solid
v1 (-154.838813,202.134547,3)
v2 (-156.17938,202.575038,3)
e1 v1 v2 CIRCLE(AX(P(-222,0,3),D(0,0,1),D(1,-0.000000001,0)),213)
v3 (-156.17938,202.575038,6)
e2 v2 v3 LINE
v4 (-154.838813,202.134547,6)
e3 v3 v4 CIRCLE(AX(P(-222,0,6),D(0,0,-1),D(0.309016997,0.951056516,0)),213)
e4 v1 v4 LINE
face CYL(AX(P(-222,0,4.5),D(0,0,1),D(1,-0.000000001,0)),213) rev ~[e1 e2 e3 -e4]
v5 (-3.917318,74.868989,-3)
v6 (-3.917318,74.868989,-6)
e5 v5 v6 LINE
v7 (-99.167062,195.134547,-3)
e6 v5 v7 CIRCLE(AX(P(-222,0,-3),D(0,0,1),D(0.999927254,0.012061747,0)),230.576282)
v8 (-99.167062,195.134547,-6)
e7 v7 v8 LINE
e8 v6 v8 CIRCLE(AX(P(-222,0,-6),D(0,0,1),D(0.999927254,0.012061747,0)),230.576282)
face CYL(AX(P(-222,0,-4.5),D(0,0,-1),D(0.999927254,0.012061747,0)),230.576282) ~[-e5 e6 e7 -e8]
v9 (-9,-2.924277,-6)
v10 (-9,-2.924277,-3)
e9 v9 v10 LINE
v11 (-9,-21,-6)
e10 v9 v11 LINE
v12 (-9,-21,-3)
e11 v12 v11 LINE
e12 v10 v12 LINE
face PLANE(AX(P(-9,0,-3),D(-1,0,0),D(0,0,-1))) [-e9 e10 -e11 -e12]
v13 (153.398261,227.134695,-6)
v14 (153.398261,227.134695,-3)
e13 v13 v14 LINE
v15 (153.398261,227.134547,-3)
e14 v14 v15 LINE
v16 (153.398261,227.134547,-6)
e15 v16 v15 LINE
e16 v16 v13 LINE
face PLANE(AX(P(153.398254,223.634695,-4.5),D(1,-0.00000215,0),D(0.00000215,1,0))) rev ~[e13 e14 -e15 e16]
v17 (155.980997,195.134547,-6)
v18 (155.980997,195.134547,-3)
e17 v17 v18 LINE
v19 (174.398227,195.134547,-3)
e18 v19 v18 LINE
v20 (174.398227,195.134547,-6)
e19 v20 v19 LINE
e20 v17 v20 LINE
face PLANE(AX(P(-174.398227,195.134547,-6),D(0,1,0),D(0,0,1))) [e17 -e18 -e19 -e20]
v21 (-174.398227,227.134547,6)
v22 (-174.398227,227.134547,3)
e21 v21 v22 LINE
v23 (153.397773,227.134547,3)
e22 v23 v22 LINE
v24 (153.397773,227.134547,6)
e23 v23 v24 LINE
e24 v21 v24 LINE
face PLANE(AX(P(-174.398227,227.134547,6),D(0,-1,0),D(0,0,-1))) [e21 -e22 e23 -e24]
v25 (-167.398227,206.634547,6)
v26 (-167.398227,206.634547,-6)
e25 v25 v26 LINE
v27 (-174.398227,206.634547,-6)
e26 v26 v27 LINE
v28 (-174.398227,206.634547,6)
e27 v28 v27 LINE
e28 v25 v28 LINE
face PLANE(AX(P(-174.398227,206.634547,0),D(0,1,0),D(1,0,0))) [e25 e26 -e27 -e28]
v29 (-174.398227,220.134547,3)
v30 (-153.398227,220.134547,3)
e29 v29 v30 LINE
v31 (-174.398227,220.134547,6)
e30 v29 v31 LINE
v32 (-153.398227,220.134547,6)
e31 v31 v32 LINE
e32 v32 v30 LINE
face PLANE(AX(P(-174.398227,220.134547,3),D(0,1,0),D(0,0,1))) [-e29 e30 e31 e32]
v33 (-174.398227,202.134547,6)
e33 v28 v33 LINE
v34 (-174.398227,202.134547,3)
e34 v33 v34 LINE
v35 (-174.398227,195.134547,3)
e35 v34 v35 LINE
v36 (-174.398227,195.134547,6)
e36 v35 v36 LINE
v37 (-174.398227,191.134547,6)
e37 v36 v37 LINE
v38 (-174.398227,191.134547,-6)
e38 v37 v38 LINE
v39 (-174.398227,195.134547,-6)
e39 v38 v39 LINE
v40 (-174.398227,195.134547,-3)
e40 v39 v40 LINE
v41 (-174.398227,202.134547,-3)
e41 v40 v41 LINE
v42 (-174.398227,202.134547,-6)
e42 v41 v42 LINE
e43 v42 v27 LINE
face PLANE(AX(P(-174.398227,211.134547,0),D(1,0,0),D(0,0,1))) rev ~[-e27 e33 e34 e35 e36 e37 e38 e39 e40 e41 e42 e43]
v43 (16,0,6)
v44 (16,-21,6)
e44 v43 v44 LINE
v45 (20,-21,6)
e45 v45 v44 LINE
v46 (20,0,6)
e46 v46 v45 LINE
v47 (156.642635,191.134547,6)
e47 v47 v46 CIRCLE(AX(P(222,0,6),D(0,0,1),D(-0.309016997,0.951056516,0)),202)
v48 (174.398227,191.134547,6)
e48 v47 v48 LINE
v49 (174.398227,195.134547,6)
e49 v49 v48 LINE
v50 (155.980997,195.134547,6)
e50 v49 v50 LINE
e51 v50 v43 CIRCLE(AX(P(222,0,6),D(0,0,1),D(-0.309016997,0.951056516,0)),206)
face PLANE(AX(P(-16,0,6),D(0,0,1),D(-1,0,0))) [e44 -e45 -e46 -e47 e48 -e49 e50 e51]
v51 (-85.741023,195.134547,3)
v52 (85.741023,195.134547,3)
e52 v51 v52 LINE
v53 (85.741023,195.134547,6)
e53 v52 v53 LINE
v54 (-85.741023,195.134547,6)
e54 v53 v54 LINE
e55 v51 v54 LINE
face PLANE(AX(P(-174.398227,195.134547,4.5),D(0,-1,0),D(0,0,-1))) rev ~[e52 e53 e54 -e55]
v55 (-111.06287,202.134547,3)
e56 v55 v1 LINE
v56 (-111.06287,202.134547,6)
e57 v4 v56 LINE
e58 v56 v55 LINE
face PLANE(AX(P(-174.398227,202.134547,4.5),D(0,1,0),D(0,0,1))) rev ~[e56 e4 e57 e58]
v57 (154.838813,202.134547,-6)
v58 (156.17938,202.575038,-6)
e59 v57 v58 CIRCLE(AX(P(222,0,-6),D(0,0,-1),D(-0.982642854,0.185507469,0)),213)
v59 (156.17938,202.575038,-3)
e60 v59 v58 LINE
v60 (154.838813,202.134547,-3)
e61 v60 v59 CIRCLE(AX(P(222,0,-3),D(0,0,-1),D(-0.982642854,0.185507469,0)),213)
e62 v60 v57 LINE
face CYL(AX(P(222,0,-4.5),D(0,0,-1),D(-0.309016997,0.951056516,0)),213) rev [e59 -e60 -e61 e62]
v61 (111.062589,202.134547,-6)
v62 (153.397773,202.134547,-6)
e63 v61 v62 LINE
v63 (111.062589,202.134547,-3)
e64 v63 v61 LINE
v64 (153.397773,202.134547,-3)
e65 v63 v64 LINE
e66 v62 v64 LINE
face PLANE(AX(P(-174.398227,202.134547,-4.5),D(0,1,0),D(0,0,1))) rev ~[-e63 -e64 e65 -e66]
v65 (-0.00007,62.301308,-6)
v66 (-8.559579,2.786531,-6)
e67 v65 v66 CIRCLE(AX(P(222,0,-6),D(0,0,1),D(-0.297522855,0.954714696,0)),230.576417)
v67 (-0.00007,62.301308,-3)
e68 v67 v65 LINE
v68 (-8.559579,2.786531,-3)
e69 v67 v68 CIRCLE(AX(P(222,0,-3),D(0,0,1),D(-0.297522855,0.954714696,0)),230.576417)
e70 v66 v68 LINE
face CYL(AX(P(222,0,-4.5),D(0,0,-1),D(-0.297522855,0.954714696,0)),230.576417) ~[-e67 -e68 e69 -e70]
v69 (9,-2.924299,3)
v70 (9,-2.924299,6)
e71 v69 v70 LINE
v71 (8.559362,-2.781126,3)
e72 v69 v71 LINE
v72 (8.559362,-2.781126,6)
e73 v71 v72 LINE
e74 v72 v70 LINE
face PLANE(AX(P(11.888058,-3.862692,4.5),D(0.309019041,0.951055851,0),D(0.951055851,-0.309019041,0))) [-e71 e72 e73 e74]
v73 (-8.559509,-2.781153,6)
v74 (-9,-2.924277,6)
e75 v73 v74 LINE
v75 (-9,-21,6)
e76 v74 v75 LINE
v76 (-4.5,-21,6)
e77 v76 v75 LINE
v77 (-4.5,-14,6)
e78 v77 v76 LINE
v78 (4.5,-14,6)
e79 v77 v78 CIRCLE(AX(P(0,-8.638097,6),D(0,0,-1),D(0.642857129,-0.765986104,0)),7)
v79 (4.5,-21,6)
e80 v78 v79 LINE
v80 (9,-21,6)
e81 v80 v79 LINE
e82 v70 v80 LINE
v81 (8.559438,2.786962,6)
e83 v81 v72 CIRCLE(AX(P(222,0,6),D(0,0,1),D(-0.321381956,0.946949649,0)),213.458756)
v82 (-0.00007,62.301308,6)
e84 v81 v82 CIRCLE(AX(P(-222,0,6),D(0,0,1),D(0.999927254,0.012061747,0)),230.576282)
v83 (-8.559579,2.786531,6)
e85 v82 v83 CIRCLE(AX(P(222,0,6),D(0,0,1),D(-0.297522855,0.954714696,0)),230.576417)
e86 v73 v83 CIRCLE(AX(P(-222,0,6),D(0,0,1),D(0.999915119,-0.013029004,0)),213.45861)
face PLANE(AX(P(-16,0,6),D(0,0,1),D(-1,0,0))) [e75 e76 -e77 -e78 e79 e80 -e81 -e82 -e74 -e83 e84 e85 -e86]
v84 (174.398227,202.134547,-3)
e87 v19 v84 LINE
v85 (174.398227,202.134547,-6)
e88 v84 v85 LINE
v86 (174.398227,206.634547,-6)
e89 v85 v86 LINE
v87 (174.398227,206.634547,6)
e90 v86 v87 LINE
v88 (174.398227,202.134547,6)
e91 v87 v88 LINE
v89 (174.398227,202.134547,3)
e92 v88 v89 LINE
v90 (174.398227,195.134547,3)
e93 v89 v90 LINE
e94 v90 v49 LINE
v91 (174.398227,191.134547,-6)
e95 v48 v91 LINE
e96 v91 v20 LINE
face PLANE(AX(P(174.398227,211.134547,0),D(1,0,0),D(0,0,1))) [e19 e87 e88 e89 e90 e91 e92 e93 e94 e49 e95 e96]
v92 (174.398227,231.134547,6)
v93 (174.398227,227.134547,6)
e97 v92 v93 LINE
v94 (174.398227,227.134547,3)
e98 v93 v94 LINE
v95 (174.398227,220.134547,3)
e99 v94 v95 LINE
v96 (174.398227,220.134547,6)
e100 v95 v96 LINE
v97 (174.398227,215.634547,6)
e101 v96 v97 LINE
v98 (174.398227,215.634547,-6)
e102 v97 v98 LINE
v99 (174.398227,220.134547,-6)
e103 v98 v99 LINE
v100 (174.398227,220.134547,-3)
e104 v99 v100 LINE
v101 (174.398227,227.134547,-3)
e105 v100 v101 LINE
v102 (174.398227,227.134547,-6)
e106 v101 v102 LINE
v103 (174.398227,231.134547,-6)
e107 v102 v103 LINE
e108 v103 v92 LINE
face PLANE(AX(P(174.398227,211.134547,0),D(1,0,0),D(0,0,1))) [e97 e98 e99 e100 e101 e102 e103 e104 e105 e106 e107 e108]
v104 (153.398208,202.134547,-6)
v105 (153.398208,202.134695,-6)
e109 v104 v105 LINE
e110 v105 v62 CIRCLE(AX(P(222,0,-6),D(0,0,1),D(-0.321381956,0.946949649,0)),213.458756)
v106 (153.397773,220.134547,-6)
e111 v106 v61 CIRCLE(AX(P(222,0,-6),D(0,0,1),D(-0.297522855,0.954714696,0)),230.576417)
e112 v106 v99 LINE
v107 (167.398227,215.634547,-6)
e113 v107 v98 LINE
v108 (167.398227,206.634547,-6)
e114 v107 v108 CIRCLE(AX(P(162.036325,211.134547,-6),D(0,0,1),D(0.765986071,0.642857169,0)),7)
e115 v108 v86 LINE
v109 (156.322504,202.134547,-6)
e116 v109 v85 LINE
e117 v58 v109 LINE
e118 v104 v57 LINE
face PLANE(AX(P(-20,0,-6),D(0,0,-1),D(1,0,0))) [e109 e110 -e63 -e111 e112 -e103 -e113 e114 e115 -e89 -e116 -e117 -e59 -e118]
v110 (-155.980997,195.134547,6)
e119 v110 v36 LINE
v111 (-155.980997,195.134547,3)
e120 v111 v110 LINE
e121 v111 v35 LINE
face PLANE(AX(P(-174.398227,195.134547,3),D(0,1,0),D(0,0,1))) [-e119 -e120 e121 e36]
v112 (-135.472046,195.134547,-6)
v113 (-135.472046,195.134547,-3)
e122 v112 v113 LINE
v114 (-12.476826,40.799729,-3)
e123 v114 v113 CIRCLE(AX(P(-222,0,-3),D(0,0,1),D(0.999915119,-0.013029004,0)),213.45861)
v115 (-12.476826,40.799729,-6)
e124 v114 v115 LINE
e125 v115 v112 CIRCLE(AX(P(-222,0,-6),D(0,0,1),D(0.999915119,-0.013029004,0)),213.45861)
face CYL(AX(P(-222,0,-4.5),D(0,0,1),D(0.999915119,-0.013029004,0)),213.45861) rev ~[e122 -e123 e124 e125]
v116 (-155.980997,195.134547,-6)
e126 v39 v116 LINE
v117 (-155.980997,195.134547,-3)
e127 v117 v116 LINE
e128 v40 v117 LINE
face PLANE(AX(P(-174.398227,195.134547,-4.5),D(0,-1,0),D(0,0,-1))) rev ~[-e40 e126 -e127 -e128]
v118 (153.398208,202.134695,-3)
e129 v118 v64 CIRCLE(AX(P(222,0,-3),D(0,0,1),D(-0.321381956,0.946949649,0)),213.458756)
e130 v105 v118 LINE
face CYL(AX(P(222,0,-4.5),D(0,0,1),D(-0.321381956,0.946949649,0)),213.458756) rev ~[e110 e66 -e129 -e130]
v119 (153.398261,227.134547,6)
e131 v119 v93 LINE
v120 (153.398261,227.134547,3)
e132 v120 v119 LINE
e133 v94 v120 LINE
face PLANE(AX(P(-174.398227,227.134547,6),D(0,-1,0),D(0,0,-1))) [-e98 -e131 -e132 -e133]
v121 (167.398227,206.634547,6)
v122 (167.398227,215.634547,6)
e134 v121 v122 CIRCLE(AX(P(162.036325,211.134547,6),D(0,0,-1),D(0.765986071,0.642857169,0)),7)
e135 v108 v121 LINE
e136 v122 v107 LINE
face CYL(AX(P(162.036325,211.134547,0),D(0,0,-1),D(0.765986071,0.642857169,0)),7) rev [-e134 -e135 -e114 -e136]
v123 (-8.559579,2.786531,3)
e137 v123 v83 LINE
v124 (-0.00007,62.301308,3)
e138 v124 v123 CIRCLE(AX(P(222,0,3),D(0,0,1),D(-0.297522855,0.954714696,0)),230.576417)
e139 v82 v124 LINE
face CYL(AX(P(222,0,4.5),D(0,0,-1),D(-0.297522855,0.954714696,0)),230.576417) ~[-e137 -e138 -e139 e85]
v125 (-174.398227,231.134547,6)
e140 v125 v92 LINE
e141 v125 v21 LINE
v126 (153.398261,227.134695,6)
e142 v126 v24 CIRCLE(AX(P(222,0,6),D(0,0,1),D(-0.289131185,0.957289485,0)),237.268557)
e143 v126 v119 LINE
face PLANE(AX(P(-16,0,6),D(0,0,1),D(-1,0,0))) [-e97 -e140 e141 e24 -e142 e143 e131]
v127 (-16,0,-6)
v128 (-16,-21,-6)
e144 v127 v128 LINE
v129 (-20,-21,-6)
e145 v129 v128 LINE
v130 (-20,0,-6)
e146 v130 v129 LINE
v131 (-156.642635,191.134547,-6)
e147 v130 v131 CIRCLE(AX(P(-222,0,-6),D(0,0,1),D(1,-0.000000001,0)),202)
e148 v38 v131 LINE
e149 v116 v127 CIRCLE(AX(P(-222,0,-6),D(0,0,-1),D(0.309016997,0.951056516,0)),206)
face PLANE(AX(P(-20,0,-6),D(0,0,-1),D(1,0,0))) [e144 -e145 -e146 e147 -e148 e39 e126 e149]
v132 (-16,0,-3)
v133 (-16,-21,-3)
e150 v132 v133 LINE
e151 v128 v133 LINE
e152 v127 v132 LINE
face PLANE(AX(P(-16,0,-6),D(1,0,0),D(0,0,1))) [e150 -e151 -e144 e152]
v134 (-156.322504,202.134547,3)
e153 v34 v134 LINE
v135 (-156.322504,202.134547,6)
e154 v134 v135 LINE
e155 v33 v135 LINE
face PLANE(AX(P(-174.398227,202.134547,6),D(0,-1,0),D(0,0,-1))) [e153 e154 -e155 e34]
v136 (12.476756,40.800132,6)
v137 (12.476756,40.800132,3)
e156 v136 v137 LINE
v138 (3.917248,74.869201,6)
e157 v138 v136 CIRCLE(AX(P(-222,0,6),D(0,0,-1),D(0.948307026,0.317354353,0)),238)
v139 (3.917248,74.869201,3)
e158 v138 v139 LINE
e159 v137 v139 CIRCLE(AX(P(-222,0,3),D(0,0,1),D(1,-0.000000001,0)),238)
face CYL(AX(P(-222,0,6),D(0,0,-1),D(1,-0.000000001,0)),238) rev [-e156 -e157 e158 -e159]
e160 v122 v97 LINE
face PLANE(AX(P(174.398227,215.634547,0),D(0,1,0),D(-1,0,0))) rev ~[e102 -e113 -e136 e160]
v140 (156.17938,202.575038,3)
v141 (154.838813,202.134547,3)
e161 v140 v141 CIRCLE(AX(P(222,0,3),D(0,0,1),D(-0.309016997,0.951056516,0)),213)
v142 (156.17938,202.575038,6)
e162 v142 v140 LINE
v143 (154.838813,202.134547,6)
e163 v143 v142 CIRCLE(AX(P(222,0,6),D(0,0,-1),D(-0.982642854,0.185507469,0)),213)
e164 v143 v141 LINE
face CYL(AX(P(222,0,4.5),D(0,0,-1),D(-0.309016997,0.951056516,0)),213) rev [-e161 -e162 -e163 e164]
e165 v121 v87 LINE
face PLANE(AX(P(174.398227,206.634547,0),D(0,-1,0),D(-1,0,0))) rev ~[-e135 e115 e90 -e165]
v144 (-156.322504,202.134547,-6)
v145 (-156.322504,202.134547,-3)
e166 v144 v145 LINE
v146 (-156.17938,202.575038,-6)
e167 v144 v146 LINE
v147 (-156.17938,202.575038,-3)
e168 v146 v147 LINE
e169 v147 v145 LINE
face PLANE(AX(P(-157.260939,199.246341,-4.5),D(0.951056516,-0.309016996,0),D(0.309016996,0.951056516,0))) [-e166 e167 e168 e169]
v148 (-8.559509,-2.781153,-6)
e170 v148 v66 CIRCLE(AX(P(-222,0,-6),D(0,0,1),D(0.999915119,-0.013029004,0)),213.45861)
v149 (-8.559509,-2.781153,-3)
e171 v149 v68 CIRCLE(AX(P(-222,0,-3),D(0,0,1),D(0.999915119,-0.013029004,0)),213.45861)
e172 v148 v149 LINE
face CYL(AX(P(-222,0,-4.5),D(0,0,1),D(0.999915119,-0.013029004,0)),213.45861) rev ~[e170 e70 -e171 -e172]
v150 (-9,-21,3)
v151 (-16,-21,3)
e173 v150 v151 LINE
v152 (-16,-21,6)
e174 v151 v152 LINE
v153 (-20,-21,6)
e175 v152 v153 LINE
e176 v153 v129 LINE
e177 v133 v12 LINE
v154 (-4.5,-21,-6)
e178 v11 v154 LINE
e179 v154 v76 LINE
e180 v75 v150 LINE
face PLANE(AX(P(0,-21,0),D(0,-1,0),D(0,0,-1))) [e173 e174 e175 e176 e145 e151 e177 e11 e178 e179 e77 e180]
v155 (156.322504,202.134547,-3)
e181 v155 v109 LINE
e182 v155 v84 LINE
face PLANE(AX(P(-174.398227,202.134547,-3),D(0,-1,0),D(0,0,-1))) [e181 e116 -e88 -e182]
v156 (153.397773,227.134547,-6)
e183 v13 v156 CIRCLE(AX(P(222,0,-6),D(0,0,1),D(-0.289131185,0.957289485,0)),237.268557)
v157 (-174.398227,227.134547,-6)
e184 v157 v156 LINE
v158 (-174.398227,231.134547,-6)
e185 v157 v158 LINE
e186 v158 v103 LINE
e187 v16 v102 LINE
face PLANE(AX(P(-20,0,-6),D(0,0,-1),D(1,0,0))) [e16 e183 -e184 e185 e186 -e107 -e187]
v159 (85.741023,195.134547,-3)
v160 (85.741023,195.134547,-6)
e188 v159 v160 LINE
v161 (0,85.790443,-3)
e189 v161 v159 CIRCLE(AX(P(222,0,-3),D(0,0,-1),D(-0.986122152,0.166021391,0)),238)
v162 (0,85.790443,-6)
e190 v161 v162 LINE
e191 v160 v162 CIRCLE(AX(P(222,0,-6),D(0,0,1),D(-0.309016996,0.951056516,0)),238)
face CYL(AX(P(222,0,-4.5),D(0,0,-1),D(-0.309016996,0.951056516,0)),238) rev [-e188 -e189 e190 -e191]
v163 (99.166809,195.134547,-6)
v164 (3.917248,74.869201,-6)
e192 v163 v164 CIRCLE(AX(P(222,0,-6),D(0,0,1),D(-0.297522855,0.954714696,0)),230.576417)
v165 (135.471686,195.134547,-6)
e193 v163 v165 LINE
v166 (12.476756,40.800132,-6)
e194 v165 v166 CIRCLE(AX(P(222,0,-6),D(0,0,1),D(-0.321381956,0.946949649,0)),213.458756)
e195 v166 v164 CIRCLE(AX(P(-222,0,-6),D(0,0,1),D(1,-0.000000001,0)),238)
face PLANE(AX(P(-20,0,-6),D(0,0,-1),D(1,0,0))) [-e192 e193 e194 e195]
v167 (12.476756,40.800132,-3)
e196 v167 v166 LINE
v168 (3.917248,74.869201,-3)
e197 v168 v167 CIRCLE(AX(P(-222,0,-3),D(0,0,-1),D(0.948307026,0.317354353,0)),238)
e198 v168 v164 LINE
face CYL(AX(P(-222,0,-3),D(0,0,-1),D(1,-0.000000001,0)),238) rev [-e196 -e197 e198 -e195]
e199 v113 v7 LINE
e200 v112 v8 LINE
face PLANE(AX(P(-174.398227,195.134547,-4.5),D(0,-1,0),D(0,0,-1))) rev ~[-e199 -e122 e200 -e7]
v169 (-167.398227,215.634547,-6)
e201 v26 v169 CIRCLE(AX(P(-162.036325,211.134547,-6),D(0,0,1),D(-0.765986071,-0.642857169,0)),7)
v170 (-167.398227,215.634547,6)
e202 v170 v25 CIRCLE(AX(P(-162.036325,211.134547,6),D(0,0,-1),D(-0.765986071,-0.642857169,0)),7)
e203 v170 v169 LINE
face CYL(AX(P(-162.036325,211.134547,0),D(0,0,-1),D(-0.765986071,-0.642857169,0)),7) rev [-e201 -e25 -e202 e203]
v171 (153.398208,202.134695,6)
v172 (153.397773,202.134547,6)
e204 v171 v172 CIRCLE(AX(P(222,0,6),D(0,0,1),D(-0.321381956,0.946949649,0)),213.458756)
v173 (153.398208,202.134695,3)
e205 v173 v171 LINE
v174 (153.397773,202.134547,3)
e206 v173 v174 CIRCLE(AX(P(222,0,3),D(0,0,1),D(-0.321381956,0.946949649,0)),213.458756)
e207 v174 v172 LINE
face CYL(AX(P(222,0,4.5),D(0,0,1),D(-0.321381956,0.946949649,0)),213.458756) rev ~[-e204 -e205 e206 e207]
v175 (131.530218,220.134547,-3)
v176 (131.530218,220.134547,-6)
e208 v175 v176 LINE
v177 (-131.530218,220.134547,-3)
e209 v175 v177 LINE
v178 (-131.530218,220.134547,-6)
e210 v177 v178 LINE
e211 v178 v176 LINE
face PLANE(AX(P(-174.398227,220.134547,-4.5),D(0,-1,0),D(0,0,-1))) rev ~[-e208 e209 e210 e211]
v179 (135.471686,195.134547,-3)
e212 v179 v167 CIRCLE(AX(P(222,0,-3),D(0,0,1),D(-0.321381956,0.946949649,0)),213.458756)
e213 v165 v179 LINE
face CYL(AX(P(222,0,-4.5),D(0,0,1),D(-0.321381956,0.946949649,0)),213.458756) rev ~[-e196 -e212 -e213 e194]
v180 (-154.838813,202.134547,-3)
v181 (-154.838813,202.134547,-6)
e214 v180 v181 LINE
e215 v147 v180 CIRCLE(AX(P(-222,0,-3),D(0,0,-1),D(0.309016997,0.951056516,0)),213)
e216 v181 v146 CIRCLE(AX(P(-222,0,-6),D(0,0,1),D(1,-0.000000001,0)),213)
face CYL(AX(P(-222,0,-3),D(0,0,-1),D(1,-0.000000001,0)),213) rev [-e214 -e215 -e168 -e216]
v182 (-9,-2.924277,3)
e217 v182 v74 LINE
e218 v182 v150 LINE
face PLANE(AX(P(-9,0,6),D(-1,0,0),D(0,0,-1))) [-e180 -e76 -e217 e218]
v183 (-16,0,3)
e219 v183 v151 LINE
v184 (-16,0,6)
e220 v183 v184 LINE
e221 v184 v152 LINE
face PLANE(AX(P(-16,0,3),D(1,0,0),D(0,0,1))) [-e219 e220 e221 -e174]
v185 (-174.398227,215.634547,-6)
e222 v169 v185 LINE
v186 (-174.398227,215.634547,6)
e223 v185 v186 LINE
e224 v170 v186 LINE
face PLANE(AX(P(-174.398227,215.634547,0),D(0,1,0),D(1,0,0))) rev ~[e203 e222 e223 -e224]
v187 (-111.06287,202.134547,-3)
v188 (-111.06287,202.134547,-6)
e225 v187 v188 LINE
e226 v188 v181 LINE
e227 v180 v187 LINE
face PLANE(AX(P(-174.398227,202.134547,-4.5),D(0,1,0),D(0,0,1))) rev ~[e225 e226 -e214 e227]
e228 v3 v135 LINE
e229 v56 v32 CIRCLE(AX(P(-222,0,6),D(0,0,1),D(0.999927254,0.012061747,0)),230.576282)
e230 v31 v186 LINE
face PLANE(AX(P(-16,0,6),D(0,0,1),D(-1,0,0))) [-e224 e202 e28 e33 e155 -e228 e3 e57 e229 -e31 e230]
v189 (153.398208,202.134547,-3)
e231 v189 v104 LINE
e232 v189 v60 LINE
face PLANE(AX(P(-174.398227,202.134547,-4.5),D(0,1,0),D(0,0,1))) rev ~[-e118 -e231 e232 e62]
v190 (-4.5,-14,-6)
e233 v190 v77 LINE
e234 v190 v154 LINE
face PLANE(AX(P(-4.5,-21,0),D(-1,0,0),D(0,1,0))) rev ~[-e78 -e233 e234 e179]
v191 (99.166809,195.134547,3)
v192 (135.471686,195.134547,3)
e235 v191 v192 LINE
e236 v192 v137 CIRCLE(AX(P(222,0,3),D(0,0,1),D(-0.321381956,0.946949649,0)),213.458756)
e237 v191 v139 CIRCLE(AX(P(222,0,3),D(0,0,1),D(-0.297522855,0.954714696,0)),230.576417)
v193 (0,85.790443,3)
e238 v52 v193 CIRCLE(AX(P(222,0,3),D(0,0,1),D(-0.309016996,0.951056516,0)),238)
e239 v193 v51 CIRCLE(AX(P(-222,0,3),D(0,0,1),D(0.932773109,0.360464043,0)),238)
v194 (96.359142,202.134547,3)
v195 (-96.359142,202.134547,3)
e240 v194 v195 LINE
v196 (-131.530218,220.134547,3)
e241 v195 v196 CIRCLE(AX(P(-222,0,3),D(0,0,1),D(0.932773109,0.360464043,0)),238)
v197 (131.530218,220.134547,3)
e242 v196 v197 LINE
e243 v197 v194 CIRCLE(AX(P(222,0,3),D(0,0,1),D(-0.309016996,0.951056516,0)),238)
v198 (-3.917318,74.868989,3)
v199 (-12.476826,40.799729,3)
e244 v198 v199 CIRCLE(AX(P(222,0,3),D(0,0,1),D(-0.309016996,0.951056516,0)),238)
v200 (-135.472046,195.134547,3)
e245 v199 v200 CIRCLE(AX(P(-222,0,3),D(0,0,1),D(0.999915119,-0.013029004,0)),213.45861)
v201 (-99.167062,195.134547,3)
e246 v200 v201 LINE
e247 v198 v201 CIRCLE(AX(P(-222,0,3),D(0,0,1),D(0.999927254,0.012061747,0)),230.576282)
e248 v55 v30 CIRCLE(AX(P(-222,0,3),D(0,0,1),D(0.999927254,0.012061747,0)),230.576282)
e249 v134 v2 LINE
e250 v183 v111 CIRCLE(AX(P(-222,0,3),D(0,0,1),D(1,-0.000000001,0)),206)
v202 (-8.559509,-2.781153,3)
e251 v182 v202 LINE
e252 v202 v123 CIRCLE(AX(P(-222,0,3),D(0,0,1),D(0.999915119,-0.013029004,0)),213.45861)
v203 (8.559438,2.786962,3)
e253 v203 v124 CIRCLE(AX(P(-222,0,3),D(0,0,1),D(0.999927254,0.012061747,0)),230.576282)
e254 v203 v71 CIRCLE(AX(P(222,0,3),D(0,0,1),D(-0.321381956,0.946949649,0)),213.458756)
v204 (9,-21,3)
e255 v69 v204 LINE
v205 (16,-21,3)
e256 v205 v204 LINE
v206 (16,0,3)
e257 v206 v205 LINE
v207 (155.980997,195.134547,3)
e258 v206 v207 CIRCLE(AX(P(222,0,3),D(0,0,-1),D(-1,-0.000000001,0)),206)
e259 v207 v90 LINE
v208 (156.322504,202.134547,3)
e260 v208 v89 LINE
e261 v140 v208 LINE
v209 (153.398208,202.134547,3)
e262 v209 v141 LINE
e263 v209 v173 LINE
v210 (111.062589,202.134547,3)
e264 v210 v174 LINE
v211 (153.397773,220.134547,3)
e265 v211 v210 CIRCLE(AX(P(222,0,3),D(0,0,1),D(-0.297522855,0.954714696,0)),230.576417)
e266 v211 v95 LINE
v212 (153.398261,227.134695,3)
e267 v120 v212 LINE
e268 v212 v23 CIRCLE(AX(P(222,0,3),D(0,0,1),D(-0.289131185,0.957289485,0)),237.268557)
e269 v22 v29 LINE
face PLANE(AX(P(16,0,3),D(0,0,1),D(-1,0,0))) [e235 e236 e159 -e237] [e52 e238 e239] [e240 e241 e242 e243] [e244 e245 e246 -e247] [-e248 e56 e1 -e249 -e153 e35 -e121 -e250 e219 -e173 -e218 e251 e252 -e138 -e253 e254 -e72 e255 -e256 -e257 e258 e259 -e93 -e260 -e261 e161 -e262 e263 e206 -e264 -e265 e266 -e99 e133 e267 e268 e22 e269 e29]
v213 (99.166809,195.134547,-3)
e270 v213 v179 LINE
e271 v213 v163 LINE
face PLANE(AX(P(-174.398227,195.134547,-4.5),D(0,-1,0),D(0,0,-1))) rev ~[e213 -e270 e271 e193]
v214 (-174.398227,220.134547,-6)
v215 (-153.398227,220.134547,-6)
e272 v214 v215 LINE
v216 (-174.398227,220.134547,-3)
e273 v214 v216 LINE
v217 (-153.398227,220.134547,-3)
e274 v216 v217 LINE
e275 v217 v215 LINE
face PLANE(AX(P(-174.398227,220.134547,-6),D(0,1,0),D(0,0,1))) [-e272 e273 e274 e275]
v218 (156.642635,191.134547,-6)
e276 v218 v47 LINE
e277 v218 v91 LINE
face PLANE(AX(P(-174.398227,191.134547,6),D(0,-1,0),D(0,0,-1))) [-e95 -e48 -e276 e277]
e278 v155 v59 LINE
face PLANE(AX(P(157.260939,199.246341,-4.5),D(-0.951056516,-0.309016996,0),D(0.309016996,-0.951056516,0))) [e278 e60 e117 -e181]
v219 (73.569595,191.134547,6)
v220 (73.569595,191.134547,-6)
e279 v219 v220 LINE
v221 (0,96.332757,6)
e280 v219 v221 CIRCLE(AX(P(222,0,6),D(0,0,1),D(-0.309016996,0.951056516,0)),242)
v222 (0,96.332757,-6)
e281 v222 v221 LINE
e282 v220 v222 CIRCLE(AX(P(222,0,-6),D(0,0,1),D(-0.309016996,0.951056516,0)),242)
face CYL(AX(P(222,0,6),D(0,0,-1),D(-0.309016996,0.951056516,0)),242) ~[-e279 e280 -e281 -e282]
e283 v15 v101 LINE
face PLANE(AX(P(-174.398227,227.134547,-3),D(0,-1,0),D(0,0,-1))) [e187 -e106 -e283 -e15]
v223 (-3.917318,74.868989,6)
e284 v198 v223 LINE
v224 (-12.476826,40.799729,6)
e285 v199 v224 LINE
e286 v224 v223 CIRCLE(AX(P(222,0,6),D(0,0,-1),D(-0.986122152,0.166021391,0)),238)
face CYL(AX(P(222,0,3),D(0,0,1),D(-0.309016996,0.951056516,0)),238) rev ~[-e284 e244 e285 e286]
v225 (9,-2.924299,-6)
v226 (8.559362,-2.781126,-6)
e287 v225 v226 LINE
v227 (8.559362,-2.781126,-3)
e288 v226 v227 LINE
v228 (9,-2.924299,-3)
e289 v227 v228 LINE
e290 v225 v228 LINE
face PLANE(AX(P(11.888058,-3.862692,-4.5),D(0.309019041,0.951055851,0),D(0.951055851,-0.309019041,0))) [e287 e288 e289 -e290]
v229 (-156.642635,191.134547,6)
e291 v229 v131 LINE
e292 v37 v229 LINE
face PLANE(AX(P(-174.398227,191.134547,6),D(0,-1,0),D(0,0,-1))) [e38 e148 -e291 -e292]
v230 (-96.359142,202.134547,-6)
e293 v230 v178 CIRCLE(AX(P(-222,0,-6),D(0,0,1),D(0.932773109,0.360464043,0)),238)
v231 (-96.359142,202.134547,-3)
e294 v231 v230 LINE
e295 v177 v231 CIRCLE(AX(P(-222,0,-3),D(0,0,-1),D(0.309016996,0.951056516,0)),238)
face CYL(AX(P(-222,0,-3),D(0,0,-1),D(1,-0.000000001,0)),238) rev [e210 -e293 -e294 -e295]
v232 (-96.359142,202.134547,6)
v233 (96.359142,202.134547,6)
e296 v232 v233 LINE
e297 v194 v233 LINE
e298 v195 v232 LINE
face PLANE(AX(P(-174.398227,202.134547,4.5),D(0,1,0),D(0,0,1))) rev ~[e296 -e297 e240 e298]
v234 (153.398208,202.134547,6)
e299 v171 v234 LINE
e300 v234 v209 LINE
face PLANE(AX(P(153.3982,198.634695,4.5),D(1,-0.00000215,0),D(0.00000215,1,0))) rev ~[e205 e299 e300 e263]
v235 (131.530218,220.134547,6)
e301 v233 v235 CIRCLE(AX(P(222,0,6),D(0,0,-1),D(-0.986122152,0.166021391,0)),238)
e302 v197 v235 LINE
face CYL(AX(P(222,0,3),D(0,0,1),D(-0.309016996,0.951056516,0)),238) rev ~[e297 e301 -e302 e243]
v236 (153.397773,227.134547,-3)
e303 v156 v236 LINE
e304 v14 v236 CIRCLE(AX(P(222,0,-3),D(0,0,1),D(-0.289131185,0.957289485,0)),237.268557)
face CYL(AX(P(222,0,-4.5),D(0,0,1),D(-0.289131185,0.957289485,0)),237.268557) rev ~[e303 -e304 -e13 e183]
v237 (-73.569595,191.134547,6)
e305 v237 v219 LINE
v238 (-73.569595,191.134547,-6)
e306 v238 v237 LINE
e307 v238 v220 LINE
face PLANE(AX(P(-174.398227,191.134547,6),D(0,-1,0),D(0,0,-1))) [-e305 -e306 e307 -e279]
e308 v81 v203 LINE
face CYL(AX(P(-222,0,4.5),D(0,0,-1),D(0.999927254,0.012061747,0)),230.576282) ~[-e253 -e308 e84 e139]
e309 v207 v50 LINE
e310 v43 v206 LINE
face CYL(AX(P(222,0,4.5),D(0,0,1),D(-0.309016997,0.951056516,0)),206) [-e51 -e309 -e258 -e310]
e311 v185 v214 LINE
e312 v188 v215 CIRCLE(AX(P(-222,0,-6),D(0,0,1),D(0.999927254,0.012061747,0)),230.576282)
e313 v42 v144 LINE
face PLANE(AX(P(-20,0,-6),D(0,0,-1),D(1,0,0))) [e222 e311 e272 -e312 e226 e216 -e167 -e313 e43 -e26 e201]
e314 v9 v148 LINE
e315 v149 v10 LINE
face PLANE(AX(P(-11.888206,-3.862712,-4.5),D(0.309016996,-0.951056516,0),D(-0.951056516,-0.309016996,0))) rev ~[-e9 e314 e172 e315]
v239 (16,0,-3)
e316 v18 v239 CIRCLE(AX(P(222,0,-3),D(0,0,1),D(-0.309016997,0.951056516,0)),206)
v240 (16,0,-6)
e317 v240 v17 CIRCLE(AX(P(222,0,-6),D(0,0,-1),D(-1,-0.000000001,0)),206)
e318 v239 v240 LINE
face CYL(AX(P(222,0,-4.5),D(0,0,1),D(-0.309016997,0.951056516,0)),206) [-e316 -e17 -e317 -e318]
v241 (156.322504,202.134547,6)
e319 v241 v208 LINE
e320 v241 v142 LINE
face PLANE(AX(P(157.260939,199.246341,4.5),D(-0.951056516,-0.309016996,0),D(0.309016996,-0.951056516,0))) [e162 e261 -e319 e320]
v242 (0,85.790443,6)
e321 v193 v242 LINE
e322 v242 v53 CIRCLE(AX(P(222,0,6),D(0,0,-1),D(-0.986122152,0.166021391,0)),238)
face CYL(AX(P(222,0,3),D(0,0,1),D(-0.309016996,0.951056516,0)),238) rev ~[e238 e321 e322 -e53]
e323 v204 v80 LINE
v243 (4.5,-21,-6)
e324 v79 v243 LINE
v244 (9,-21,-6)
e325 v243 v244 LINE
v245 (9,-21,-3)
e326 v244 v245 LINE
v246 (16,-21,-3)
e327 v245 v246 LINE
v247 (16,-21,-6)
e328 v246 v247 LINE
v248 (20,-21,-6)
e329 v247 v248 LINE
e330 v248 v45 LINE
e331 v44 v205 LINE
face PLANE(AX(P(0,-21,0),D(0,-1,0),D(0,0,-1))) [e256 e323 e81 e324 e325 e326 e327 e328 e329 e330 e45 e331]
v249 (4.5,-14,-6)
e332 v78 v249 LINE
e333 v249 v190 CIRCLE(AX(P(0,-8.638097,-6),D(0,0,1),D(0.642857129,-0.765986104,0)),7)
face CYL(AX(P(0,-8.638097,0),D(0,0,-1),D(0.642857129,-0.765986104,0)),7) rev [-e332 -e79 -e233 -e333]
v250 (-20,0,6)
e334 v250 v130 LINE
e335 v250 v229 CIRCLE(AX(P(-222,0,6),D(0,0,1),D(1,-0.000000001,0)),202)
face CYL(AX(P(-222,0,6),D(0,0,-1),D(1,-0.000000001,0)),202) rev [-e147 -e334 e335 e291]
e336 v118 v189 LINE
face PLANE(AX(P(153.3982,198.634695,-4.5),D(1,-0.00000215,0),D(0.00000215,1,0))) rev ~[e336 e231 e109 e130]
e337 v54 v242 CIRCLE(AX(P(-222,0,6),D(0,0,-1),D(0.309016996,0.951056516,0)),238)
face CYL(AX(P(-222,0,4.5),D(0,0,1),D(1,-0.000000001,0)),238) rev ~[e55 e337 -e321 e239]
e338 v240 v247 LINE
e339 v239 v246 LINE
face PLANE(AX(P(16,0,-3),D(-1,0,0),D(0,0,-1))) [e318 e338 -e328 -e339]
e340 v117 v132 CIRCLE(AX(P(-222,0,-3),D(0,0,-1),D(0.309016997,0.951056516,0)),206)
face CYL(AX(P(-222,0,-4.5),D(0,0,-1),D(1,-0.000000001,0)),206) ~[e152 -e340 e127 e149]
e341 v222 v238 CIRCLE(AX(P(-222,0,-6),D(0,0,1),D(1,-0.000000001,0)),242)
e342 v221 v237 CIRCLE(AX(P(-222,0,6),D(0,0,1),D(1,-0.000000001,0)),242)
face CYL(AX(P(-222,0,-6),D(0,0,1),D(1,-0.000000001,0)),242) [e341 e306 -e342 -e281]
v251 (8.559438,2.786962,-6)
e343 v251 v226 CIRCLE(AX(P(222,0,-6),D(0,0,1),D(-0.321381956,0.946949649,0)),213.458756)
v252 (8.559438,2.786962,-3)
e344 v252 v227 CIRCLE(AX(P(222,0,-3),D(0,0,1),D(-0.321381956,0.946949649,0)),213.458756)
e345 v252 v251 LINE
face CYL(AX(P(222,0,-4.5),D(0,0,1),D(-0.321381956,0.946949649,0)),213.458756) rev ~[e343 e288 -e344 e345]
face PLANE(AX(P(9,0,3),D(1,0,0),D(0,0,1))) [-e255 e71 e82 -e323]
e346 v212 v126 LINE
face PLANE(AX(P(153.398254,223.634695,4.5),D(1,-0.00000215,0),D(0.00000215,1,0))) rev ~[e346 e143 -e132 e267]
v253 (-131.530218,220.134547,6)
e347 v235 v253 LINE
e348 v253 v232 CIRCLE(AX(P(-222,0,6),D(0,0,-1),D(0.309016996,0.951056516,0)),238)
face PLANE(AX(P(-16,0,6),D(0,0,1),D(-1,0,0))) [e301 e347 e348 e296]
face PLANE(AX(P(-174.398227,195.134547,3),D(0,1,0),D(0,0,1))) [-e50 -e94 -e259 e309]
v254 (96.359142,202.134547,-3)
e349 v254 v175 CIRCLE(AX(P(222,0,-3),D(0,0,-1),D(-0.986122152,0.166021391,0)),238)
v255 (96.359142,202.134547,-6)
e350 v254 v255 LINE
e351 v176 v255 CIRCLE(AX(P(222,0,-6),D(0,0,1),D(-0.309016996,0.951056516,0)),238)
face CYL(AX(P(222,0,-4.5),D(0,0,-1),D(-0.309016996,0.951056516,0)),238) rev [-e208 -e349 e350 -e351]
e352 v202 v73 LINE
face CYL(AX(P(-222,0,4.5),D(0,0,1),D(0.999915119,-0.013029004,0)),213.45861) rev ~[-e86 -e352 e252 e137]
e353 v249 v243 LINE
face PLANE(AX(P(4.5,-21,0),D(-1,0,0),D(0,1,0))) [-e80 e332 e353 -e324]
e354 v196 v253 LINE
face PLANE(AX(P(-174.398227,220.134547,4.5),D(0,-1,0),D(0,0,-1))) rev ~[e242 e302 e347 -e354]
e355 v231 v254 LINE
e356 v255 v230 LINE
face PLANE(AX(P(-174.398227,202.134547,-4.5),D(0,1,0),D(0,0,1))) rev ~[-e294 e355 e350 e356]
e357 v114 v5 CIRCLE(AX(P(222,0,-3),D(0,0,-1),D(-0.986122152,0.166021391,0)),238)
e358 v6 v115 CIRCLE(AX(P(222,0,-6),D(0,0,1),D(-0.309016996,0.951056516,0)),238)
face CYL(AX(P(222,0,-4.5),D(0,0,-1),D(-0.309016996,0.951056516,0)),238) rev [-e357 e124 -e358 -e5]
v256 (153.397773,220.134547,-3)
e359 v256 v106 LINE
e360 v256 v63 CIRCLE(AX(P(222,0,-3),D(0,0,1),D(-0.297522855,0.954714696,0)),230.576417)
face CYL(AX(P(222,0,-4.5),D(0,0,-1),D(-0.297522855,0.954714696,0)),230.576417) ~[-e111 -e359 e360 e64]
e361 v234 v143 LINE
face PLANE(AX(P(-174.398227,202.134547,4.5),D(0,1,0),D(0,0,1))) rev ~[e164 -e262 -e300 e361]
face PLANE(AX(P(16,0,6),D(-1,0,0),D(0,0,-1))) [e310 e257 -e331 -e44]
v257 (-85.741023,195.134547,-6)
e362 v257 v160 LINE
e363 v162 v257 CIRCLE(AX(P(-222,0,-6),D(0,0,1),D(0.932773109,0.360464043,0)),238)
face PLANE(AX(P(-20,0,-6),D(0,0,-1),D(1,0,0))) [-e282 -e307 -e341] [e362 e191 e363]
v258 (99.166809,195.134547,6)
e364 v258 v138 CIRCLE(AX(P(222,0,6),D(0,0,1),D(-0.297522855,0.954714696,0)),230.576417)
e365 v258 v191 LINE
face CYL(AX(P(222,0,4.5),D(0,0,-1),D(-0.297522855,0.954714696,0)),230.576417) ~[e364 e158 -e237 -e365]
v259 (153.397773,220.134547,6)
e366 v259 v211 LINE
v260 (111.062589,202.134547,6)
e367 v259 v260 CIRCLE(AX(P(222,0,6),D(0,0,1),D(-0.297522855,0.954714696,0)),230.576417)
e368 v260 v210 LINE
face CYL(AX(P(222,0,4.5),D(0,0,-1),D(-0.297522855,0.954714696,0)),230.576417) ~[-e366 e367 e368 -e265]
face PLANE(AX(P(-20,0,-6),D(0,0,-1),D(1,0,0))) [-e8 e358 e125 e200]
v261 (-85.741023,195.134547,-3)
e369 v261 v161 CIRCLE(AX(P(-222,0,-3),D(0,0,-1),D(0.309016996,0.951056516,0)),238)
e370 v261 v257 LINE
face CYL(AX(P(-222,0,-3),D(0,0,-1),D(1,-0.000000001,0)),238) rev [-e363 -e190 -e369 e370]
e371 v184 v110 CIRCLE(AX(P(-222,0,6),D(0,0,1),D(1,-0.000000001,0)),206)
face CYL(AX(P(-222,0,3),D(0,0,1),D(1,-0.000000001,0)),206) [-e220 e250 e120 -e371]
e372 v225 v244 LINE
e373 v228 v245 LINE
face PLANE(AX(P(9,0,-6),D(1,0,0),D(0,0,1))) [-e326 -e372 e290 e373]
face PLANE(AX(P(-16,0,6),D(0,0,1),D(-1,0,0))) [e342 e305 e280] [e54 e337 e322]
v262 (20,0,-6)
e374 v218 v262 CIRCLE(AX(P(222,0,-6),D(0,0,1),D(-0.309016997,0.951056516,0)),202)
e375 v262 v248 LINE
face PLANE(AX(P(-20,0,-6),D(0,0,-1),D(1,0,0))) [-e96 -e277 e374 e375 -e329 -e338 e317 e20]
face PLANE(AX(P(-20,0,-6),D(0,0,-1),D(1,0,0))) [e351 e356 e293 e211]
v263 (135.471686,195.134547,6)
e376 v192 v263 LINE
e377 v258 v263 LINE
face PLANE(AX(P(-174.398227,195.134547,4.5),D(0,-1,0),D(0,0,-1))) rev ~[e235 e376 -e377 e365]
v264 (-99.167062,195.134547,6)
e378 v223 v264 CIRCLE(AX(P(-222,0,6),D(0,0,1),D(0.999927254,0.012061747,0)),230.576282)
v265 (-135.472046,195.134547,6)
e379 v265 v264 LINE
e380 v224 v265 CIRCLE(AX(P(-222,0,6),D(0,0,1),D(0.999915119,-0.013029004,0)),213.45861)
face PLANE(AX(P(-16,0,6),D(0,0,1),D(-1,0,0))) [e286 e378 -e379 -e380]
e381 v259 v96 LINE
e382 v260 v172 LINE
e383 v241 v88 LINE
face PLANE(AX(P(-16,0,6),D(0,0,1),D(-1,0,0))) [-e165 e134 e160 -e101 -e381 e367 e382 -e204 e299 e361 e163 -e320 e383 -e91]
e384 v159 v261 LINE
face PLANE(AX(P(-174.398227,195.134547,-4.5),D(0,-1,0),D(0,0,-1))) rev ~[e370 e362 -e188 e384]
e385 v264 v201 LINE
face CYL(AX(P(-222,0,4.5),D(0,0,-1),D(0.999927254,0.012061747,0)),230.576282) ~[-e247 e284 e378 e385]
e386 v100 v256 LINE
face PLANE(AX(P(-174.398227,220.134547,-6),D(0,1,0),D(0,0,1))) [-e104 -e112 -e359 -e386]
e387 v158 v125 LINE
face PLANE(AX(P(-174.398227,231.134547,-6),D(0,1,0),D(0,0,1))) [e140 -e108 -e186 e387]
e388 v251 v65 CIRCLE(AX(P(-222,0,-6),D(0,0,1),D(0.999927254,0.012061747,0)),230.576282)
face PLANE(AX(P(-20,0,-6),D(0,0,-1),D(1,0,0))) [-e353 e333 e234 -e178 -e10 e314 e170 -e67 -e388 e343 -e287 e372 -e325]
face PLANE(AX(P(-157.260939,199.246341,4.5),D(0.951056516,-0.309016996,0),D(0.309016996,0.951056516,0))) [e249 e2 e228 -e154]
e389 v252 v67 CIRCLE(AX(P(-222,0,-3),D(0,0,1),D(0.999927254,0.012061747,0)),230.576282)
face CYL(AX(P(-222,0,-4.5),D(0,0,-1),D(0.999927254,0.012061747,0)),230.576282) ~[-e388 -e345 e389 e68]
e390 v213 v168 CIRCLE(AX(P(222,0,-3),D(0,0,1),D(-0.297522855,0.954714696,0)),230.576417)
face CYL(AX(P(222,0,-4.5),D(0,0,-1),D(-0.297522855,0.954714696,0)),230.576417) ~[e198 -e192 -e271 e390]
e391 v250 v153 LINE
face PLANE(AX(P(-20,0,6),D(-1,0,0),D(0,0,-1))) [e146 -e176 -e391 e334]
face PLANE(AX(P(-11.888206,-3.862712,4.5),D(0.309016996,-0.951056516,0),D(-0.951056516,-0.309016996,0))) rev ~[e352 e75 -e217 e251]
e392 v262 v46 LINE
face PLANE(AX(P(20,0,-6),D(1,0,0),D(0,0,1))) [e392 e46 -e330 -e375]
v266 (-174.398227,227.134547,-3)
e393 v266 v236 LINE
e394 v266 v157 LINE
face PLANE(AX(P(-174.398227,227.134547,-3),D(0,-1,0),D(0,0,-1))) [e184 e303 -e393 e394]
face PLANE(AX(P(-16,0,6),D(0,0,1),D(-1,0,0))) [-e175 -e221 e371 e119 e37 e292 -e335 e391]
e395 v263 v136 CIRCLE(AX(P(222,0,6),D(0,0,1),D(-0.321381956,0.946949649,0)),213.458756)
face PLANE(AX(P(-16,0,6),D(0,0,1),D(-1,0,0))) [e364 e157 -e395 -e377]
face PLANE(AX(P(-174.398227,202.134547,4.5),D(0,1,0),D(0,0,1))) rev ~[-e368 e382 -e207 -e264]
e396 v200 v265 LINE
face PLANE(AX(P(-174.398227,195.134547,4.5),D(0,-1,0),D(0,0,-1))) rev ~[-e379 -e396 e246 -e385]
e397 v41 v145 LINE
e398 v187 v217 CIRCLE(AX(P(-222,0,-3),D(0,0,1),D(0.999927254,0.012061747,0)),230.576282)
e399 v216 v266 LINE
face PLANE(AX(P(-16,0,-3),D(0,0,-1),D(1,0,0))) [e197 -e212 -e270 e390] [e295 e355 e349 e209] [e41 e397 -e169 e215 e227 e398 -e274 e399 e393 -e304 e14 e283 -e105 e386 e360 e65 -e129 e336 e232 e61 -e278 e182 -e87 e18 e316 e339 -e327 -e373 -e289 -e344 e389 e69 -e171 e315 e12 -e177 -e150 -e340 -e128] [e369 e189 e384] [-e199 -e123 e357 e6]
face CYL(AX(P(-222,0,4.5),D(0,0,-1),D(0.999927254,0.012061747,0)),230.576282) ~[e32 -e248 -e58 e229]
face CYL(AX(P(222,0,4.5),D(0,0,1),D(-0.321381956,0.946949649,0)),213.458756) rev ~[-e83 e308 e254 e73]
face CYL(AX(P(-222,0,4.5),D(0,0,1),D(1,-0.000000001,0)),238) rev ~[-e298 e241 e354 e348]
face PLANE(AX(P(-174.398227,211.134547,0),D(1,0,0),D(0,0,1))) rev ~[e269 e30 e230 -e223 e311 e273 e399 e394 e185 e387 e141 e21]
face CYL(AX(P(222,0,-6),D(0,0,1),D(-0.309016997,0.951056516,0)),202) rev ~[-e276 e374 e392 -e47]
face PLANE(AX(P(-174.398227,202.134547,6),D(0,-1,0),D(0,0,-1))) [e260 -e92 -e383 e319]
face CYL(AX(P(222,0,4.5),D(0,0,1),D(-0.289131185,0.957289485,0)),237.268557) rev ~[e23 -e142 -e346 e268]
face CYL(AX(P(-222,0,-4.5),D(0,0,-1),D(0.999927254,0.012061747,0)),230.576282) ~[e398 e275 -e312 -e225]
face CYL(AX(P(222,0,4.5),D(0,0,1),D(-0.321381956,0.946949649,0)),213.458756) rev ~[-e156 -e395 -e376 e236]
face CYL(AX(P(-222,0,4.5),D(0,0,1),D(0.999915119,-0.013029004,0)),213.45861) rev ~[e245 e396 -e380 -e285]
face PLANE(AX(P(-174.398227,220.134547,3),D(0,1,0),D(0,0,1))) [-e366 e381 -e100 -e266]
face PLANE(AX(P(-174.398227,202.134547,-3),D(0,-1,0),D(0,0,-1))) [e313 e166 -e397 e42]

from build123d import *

# Parameters (mm, degrees)
SKETCH006_W          = 7
SKETCH006_H          = 3
SKETCH007_W          = 7
SKETCH007_H          = 3
SKETCH008_W          = 7
SKETCH008_H          = 3
SKETCH009_W          = 7
SKETCH009_H          = 3
SKETCH010_W          = 7
SKETCH010_H          = 3
SKETCH011_W          = 7
SKETCH011_H          = 3
SKETCH012_W          = 7
SKETCH012_H          = 3
SKETCH013_W          = 7
SKETCH013_H          = 3
SKETCH014_W          = 7
SKETCH014_H          = 3
SKETCH015_W          = 7
SKETCH015_H          = 3
SKETCH016_W          = 7
SKETCH016_H          = 3
SKETCH017_W          = 7
SKETCH017_H          = 3
POCKET_DEPTH         = 6.001
POCKET_DEPTH_BACK    = 6.001
POCKET001_DEPTH      = 6.001
POCKET001_DEPTH_BACK = 6.001
POCKET002_DEPTH      = 6.001
POCKET002_DEPTH_BACK = 6.001


with BuildPart() as part:
    # AdditivePipe: sweep along a path in Sketch
    with BuildLine(Plane.XY) as additivepipe_path:
        ThreePointArc((0, 0), (-42.398227, 130.488326), (-153.398227, 211.134547))
    # Sketch003 (on DatumPlane) → AdditivePipe (sweep)
    with BuildSketch(Plane.XZ):
        Polygon((-20, 6), (-20, -6), (-16, -6), (-16, -3), (-9, -3), (-9, -6), (9, -6), (9, -3), (16, -3), (16, -6), (20, -6), (20, 6), (16, 6), (16, 3), (9, 3), (9, 6), (-9, 6), (-9, 3), (-16, 3), (-16, 6), align=None)
    sweep(path=additivepipe_path.line)

    # AdditivePipe001: sweep along a path in Sketch001
    with BuildLine(Plane.XY) as additivepipe001_path:
        ThreePointArc((153.398227, 211.134547), (42.398227, 130.488326), (0, 0))
    # Sketch003 (on DatumPlane) → AdditivePipe001 (sweep)
    with BuildSketch(Plane.XZ):
        Polygon((-20, 6), (-20, -6), (-16, -6), (-16, -3), (-9, -3), (-9, -6), (9, -6), (9, -3), (16, -3), (16, -6), (20, -6), (20, 6), (16, 6), (16, 3), (9, 3), (9, 6), (-9, 6), (-9, 3), (-16, 3), (-16, 6), align=None)
    sweep(path=additivepipe001_path.line)

    # AdditivePipe002: sweep along a path in Sketch002
    with BuildLine(Plane.XY) as additivepipe002_path:
        Line((-174.398227, 211.134547), (-153.398227, 211.134547))
        Line((-153.398227, 211.134547), (153.398227, 211.134547))
        Line((153.398227, 211.134547), (174.398227, 211.134547))
    # Sketch004 (on DatumPlane) → AdditivePipe002 (sweep)
    with BuildSketch(Plane(origin=(-153.398227, 211.134547, 0), x_dir=(0, 1, 0), z_dir=(1, 0, 0))):
        Polygon((-20, 6), (-20, -6), (-16, -6), (-16, -3), (-9, -3), (-9, -6), (9, -6), (9, -3), (16, -3), (16, -6), (20, -6), (20, 6), (16, 6), (16, 3), (9, 3), (9, 6), (-9, 6), (-9, 3), (-16, 3), (-16, 6), align=None)
    sweep(path=additivepipe002_path.line)

    # AdditivePipe003: sweep along a path in Sketch005
    with BuildLine(Plane.XY) as additivepipe003_path:
        Line((0, 0), (0, -21))
    # Sketch003 (on DatumPlane) → AdditivePipe003 (sweep)
    with BuildSketch(Plane.XZ):
        Polygon((-20, 6), (-20, -6), (-16, -6), (-16, -3), (-9, -3), (-9, -6), (9, -6), (9, -3), (16, -3), (16, -6), (20, -6), (20, 6), (16, 6), (16, 3), (9, 3), (9, 6), (-9, 6), (-9, 3), (-16, 3), (-16, 6), align=None)
    sweep(path=additivepipe003_path.line)

    # SubtractivePipe: sweep along a path in Sketch
    with BuildLine(Plane.XY) as subtractivepipe_path:
        ThreePointArc((0, 0), (-42.398227, 130.488326), (-153.398227, 211.134547))
    # Sketch006 (on DatumPlane) → SubtractivePipe (sweep, cut)
    with BuildSketch(Plane.XZ):
        with Locations((-12.5, 4.5)):
            Rectangle(SKETCH006_W, SKETCH006_H)
    sweep(path=subtractivepipe_path.line, mode=Mode.SUBTRACT)

    # SubtractivePipe001: sweep along a path in Sketch001
    with BuildLine(Plane.XY) as subtractivepipe001_path:
        ThreePointArc((153.398227, 211.134547), (42.398227, 130.488326), (0, 0))
    # Sketch006 (on DatumPlane) → SubtractivePipe001 (sweep, cut)
    with BuildSketch(Plane.XZ):
        with Locations((-12.5, 4.5)):
            Rectangle(SKETCH006_W, SKETCH006_H)
    sweep(path=subtractivepipe001_path.line, mode=Mode.SUBTRACT)

    # SubtractivePipe002: sweep along a path in Sketch
    with BuildLine(Plane.XY) as subtractivepipe002_path:
        ThreePointArc((0, 0), (-42.398227, 130.488326), (-153.398227, 211.134547))
    # Sketch007 (on DatumPlane) → SubtractivePipe002 (sweep, cut)
    with BuildSketch(Plane.XZ):
        with Locations((12.5, 4.5)):
            Rectangle(SKETCH007_W, SKETCH007_H)
    sweep(path=subtractivepipe002_path.line, mode=Mode.SUBTRACT)

    # SubtractivePipe003: sweep along a path in Sketch001
    with BuildLine(Plane.XY) as subtractivepipe003_path:
        ThreePointArc((153.398227, 211.134547), (42.398227, 130.488326), (0, 0))
    # Sketch007 (on DatumPlane) → SubtractivePipe003 (sweep, cut)
    with BuildSketch(Plane.XZ):
        with Locations((12.5, 4.5)):
            Rectangle(SKETCH007_W, SKETCH007_H)
    sweep(path=subtractivepipe003_path.line, mode=Mode.SUBTRACT)

    # SubtractivePipe004: sweep along a path in Sketch002
    with BuildLine(Plane.XY) as subtractivepipe004_path:
        Line((-174.398227, 211.134547), (-153.398227, 211.134547))
        Line((-153.398227, 211.134547), (153.398227, 211.134547))
        Line((153.398227, 211.134547), (174.398227, 211.134547))
    # Sketch008 (on DatumPlane) → SubtractivePipe004 (sweep, cut)
    with BuildSketch(Plane(origin=(-153.398227, 211.134547, 0), x_dir=(0, 1, 0), z_dir=(1, 0, 0))):
        with Locations((-12.5, 4.5)):
            Rectangle(SKETCH008_W, SKETCH008_H)
    sweep(path=subtractivepipe004_path.line, mode=Mode.SUBTRACT)

    # SubtractivePipe005: sweep along a path in Sketch002
    with BuildLine(Plane.XY) as subtractivepipe005_path:
        Line((-174.398227, 211.134547), (-153.398227, 211.134547))
        Line((-153.398227, 211.134547), (153.398227, 211.134547))
        Line((153.398227, 211.134547), (174.398227, 211.134547))
    # Sketch009 (on DatumPlane) → SubtractivePipe005 (sweep, cut)
    with BuildSketch(Plane(origin=(-153.398227, 211.134547, 0), x_dir=(0, 1, 0), z_dir=(1, 0, 0))):
        with Locations((12.5, 4.5)):
            Rectangle(SKETCH009_W, SKETCH009_H)
    sweep(path=subtractivepipe005_path.line, mode=Mode.SUBTRACT)

    # SubtractivePipe006: sweep along a path in Sketch
    with BuildLine(Plane.XY) as subtractivepipe006_path:
        ThreePointArc((0, 0), (-42.398227, 130.488326), (-153.398227, 211.134547))
    # Sketch009 (on DatumPlane) → SubtractivePipe006 (sweep, cut)
    with BuildSketch(Plane(origin=(-153.398227, 211.134547, 0), x_dir=(0, 1, 0), z_dir=(1, 0, 0))):
        with Locations((12.5, 4.5)):
            Rectangle(SKETCH009_W, SKETCH009_H)
    sweep(path=subtractivepipe006_path.line, mode=Mode.SUBTRACT)

    # SubtractivePipe007: sweep along a path in Sketch
    with BuildLine(Plane.XY) as subtractivepipe007_path:
        ThreePointArc((0, 0), (-42.398227, 130.488326), (-153.398227, 211.134547))
    # Sketch008 (on DatumPlane) → SubtractivePipe007 (sweep, cut)
    with BuildSketch(Plane(origin=(-153.398227, 211.134547, 0), x_dir=(0, 1, 0), z_dir=(1, 0, 0))):
        with Locations((-12.5, 4.5)):
            Rectangle(SKETCH008_W, SKETCH008_H)
    sweep(path=subtractivepipe007_path.line, mode=Mode.SUBTRACT)

    # SubtractivePipe008: sweep along a path in Sketch
    with BuildLine(Plane.XY) as subtractivepipe008_path:
        ThreePointArc((0, 0), (-42.398227, 130.488326), (-153.398227, 211.134547))
    # Sketch010 (on DatumPlane) → SubtractivePipe008 (sweep, cut)
    with BuildSketch(Plane.XZ):
        with Locations((-12.5, -4.5)):
            Rectangle(SKETCH010_W, SKETCH010_H)
    sweep(path=subtractivepipe008_path.line, mode=Mode.SUBTRACT)

    # SubtractivePipe009: sweep along a path in Sketch001
    with BuildLine(Plane.XY) as subtractivepipe009_path:
        ThreePointArc((153.398227, 211.134547), (42.398227, 130.488326), (0, 0))
    # Sketch010 (on DatumPlane) → SubtractivePipe009 (sweep, cut)
    with BuildSketch(Plane.XZ):
        with Locations((-12.5, -4.5)):
            Rectangle(SKETCH010_W, SKETCH010_H)
    sweep(path=subtractivepipe009_path.line, mode=Mode.SUBTRACT)

    # SubtractivePipe010: sweep along a path in Sketch
    with BuildLine(Plane.XY) as subtractivepipe010_path:
        ThreePointArc((0, 0), (-42.398227, 130.488326), (-153.398227, 211.134547))
    # Sketch011 (on DatumPlane) → SubtractivePipe010 (sweep, cut)
    with BuildSketch(Plane.XZ):
        with Locations((12.5, -4.5)):
            Rectangle(SKETCH011_W, SKETCH011_H)
    sweep(path=subtractivepipe010_path.line, mode=Mode.SUBTRACT)

    # SubtractivePipe011: sweep along a path in Sketch001
    with BuildLine(Plane.XY) as subtractivepipe011_path:
        ThreePointArc((153.398227, 211.134547), (42.398227, 130.488326), (0, 0))
    # Sketch011 (on DatumPlane) → SubtractivePipe011 (sweep, cut)
    with BuildSketch(Plane.XZ):
        with Locations((12.5, -4.5)):
            Rectangle(SKETCH011_W, SKETCH011_H)
    sweep(path=subtractivepipe011_path.line, mode=Mode.SUBTRACT)

    # SubtractivePipe012: sweep along a path in Sketch
    with BuildLine(Plane.XY) as subtractivepipe012_path:
        ThreePointArc((0, 0), (-42.398227, 130.488326), (-153.398227, 211.134547))
    # Sketch012 (on DatumPlane) → SubtractivePipe012 (sweep, cut)
    with BuildSketch(Plane(origin=(-153.398227, 211.134547, 0), x_dir=(0, 1, 0), z_dir=(1, 0, 0))):
        with Locations((-12.5, -4.5)):
            Rectangle(SKETCH012_W, SKETCH012_H)
    sweep(path=subtractivepipe012_path.line, mode=Mode.SUBTRACT)

    # SubtractivePipe013: sweep along a path in Sketch002
    with BuildLine(Plane.XY) as subtractivepipe013_path:
        Line((-174.398227, 211.134547), (-153.398227, 211.134547))
        Line((-153.398227, 211.134547), (153.398227, 211.134547))
        Line((153.398227, 211.134547), (174.398227, 211.134547))
    # Sketch012 (on DatumPlane) → SubtractivePipe013 (sweep, cut)
    with BuildSketch(Plane(origin=(-153.398227, 211.134547, 0), x_dir=(0, 1, 0), z_dir=(1, 0, 0))):
        with Locations((-12.5, -4.5)):
            Rectangle(SKETCH012_W, SKETCH012_H)
    sweep(path=subtractivepipe013_path.line, mode=Mode.SUBTRACT)

    # SubtractivePipe014: sweep along a path in Sketch
    with BuildLine(Plane.XY) as subtractivepipe014_path:
        ThreePointArc((0, 0), (-42.398227, 130.488326), (-153.398227, 211.134547))
    # Sketch013 (on DatumPlane) → SubtractivePipe014 (sweep, cut)
    with BuildSketch(Plane(origin=(-153.398227, 211.134547, 0), x_dir=(0, 1, 0), z_dir=(1, 0, 0))):
        with Locations((12.5, -4.5)):
            Rectangle(SKETCH013_W, SKETCH013_H)
    sweep(path=subtractivepipe014_path.line, mode=Mode.SUBTRACT)

    # SubtractivePipe015: sweep along a path in Sketch002
    with BuildLine(Plane.XY) as subtractivepipe015_path:
        Line((-174.398227, 211.134547), (-153.398227, 211.134547))
        Line((-153.398227, 211.134547), (153.398227, 211.134547))
        Line((153.398227, 211.134547), (174.398227, 211.134547))
    # Sketch013 (on DatumPlane) → SubtractivePipe015 (sweep, cut)
    with BuildSketch(Plane(origin=(-153.398227, 211.134547, 0), x_dir=(0, 1, 0), z_dir=(1, 0, 0))):
        with Locations((12.5, -4.5)):
            Rectangle(SKETCH013_W, SKETCH013_H)
    sweep(path=subtractivepipe015_path.line, mode=Mode.SUBTRACT)

    # SubtractivePipe016: sweep along a path in Sketch001
    with BuildLine(Plane.XY) as subtractivepipe016_path:
        ThreePointArc((153.398227, 211.134547), (42.398227, 130.488326), (0, 0))
    # Sketch014 (on DatumPlane) → SubtractivePipe016 (sweep, cut)
    with BuildSketch(Plane(origin=(153.397773, 517.930547, 0), x_dir=(0, 1, 0), z_dir=(1, 0, 0))):
        with Locations((-319.296, 4.5)):
            Rectangle(SKETCH014_W, SKETCH014_H)
    sweep(path=subtractivepipe016_path.line, mode=Mode.SUBTRACT)

    # SubtractivePipe017: sweep along a path in Sketch001
    with BuildLine(Plane.XY) as subtractivepipe017_path:
        ThreePointArc((153.398227, 211.134547), (42.398227, 130.488326), (0, 0))
    # Sketch015 (on DatumPlane) → SubtractivePipe017 (sweep, cut)
    with BuildSketch(Plane(origin=(153.397773, 517.930547, 0), x_dir=(0, 1, 0), z_dir=(1, 0, 0))):
        with Locations((-294.296, 4.5)):
            Rectangle(SKETCH015_W, SKETCH015_H)
    sweep(path=subtractivepipe017_path.line, mode=Mode.SUBTRACT)

    # SubtractivePipe018: sweep along a path in Sketch001
    with BuildLine(Plane.XY) as subtractivepipe018_path:
        ThreePointArc((153.398227, 211.134547), (42.398227, 130.488326), (0, 0))
    # Sketch016 (on DatumPlane) → SubtractivePipe018 (sweep, cut)
    with BuildSketch(Plane(origin=(153.397773, 517.930547, 0), x_dir=(0, 1, 0), z_dir=(1, 0, 0))):
        with Locations((-319.296, -4.5)):
            Rectangle(SKETCH016_W, SKETCH016_H)
    sweep(path=subtractivepipe018_path.line, mode=Mode.SUBTRACT)

    # SubtractivePipe019: sweep along a path in Sketch001
    with BuildLine(Plane.XY) as subtractivepipe019_path:
        ThreePointArc((153.398227, 211.134547), (42.398227, 130.488326), (0, 0))
    # Sketch017 (on DatumPlane) → SubtractivePipe019 (sweep, cut)
    with BuildSketch(Plane(origin=(153.397773, 517.930547, 0), x_dir=(0, 1, 0), z_dir=(1, 0, 0))):
        with Locations((-294.296, -4.5)):
            Rectangle(SKETCH017_W, SKETCH017_H)
    sweep(path=subtractivepipe019_path.line, mode=Mode.SUBTRACT)

    # Sketch018 → Pocket (cut, two sides)
    with BuildSketch(Plane.XY) as pocket_sk:
        with BuildLine():
            Line((-174.398227, 206.634547), (-174.398227, 215.634547))
            Line((-174.398227, 215.634547), (-167.398227, 215.634547))
            ThreePointArc((-167.398227, 206.634547), (-155.036325, 211.134547), (-167.398227, 215.634547))
            Line((-174.398227, 206.634547), (-167.398227, 206.634547))
        make_face()
    extrude(amount=-POCKET_DEPTH, mode=Mode.SUBTRACT)
    extrude(pocket_sk.sketch, amount=POCKET_DEPTH_BACK, mode=Mode.SUBTRACT)

    # Sketch019 → Pocket001 (cut, two sides)
    with BuildSketch(Plane.XY) as pocket001_sk:
        with BuildLine():
            Line((174.398227, 206.634547), (174.398227, 215.634547))
            Line((174.398227, 215.634547), (167.398227, 215.634547))
            ThreePointArc((167.398227, 215.634547), (155.036325, 211.134547), (167.398227, 206.634547))
            Line((174.398227, 206.634547), (167.398227, 206.634547))
        make_face()
    extrude(amount=-POCKET001_DEPTH, mode=Mode.SUBTRACT)
    extrude(pocket001_sk.sketch, amount=POCKET001_DEPTH_BACK, mode=Mode.SUBTRACT)

    # Sketch020 → Pocket002 (cut, two sides)
    with BuildSketch(Plane.XY) as pocket002_sk:
        with BuildLine():
            Line((-4.5, -21), (4.5, -21))
            Line((4.5, -21), (4.5, -14))
            ThreePointArc((4.5, -14), (0, -1.638097), (-4.5, -14))
            Line((-4.5, -21), (-4.5, -14))
        make_face()
    extrude(amount=-POCKET002_DEPTH, mode=Mode.SUBTRACT)
    extrude(pocket002_sk.sketch, amount=POCKET002_DEPTH_BACK, mode=Mode.SUBTRACT)


solid = part.part
